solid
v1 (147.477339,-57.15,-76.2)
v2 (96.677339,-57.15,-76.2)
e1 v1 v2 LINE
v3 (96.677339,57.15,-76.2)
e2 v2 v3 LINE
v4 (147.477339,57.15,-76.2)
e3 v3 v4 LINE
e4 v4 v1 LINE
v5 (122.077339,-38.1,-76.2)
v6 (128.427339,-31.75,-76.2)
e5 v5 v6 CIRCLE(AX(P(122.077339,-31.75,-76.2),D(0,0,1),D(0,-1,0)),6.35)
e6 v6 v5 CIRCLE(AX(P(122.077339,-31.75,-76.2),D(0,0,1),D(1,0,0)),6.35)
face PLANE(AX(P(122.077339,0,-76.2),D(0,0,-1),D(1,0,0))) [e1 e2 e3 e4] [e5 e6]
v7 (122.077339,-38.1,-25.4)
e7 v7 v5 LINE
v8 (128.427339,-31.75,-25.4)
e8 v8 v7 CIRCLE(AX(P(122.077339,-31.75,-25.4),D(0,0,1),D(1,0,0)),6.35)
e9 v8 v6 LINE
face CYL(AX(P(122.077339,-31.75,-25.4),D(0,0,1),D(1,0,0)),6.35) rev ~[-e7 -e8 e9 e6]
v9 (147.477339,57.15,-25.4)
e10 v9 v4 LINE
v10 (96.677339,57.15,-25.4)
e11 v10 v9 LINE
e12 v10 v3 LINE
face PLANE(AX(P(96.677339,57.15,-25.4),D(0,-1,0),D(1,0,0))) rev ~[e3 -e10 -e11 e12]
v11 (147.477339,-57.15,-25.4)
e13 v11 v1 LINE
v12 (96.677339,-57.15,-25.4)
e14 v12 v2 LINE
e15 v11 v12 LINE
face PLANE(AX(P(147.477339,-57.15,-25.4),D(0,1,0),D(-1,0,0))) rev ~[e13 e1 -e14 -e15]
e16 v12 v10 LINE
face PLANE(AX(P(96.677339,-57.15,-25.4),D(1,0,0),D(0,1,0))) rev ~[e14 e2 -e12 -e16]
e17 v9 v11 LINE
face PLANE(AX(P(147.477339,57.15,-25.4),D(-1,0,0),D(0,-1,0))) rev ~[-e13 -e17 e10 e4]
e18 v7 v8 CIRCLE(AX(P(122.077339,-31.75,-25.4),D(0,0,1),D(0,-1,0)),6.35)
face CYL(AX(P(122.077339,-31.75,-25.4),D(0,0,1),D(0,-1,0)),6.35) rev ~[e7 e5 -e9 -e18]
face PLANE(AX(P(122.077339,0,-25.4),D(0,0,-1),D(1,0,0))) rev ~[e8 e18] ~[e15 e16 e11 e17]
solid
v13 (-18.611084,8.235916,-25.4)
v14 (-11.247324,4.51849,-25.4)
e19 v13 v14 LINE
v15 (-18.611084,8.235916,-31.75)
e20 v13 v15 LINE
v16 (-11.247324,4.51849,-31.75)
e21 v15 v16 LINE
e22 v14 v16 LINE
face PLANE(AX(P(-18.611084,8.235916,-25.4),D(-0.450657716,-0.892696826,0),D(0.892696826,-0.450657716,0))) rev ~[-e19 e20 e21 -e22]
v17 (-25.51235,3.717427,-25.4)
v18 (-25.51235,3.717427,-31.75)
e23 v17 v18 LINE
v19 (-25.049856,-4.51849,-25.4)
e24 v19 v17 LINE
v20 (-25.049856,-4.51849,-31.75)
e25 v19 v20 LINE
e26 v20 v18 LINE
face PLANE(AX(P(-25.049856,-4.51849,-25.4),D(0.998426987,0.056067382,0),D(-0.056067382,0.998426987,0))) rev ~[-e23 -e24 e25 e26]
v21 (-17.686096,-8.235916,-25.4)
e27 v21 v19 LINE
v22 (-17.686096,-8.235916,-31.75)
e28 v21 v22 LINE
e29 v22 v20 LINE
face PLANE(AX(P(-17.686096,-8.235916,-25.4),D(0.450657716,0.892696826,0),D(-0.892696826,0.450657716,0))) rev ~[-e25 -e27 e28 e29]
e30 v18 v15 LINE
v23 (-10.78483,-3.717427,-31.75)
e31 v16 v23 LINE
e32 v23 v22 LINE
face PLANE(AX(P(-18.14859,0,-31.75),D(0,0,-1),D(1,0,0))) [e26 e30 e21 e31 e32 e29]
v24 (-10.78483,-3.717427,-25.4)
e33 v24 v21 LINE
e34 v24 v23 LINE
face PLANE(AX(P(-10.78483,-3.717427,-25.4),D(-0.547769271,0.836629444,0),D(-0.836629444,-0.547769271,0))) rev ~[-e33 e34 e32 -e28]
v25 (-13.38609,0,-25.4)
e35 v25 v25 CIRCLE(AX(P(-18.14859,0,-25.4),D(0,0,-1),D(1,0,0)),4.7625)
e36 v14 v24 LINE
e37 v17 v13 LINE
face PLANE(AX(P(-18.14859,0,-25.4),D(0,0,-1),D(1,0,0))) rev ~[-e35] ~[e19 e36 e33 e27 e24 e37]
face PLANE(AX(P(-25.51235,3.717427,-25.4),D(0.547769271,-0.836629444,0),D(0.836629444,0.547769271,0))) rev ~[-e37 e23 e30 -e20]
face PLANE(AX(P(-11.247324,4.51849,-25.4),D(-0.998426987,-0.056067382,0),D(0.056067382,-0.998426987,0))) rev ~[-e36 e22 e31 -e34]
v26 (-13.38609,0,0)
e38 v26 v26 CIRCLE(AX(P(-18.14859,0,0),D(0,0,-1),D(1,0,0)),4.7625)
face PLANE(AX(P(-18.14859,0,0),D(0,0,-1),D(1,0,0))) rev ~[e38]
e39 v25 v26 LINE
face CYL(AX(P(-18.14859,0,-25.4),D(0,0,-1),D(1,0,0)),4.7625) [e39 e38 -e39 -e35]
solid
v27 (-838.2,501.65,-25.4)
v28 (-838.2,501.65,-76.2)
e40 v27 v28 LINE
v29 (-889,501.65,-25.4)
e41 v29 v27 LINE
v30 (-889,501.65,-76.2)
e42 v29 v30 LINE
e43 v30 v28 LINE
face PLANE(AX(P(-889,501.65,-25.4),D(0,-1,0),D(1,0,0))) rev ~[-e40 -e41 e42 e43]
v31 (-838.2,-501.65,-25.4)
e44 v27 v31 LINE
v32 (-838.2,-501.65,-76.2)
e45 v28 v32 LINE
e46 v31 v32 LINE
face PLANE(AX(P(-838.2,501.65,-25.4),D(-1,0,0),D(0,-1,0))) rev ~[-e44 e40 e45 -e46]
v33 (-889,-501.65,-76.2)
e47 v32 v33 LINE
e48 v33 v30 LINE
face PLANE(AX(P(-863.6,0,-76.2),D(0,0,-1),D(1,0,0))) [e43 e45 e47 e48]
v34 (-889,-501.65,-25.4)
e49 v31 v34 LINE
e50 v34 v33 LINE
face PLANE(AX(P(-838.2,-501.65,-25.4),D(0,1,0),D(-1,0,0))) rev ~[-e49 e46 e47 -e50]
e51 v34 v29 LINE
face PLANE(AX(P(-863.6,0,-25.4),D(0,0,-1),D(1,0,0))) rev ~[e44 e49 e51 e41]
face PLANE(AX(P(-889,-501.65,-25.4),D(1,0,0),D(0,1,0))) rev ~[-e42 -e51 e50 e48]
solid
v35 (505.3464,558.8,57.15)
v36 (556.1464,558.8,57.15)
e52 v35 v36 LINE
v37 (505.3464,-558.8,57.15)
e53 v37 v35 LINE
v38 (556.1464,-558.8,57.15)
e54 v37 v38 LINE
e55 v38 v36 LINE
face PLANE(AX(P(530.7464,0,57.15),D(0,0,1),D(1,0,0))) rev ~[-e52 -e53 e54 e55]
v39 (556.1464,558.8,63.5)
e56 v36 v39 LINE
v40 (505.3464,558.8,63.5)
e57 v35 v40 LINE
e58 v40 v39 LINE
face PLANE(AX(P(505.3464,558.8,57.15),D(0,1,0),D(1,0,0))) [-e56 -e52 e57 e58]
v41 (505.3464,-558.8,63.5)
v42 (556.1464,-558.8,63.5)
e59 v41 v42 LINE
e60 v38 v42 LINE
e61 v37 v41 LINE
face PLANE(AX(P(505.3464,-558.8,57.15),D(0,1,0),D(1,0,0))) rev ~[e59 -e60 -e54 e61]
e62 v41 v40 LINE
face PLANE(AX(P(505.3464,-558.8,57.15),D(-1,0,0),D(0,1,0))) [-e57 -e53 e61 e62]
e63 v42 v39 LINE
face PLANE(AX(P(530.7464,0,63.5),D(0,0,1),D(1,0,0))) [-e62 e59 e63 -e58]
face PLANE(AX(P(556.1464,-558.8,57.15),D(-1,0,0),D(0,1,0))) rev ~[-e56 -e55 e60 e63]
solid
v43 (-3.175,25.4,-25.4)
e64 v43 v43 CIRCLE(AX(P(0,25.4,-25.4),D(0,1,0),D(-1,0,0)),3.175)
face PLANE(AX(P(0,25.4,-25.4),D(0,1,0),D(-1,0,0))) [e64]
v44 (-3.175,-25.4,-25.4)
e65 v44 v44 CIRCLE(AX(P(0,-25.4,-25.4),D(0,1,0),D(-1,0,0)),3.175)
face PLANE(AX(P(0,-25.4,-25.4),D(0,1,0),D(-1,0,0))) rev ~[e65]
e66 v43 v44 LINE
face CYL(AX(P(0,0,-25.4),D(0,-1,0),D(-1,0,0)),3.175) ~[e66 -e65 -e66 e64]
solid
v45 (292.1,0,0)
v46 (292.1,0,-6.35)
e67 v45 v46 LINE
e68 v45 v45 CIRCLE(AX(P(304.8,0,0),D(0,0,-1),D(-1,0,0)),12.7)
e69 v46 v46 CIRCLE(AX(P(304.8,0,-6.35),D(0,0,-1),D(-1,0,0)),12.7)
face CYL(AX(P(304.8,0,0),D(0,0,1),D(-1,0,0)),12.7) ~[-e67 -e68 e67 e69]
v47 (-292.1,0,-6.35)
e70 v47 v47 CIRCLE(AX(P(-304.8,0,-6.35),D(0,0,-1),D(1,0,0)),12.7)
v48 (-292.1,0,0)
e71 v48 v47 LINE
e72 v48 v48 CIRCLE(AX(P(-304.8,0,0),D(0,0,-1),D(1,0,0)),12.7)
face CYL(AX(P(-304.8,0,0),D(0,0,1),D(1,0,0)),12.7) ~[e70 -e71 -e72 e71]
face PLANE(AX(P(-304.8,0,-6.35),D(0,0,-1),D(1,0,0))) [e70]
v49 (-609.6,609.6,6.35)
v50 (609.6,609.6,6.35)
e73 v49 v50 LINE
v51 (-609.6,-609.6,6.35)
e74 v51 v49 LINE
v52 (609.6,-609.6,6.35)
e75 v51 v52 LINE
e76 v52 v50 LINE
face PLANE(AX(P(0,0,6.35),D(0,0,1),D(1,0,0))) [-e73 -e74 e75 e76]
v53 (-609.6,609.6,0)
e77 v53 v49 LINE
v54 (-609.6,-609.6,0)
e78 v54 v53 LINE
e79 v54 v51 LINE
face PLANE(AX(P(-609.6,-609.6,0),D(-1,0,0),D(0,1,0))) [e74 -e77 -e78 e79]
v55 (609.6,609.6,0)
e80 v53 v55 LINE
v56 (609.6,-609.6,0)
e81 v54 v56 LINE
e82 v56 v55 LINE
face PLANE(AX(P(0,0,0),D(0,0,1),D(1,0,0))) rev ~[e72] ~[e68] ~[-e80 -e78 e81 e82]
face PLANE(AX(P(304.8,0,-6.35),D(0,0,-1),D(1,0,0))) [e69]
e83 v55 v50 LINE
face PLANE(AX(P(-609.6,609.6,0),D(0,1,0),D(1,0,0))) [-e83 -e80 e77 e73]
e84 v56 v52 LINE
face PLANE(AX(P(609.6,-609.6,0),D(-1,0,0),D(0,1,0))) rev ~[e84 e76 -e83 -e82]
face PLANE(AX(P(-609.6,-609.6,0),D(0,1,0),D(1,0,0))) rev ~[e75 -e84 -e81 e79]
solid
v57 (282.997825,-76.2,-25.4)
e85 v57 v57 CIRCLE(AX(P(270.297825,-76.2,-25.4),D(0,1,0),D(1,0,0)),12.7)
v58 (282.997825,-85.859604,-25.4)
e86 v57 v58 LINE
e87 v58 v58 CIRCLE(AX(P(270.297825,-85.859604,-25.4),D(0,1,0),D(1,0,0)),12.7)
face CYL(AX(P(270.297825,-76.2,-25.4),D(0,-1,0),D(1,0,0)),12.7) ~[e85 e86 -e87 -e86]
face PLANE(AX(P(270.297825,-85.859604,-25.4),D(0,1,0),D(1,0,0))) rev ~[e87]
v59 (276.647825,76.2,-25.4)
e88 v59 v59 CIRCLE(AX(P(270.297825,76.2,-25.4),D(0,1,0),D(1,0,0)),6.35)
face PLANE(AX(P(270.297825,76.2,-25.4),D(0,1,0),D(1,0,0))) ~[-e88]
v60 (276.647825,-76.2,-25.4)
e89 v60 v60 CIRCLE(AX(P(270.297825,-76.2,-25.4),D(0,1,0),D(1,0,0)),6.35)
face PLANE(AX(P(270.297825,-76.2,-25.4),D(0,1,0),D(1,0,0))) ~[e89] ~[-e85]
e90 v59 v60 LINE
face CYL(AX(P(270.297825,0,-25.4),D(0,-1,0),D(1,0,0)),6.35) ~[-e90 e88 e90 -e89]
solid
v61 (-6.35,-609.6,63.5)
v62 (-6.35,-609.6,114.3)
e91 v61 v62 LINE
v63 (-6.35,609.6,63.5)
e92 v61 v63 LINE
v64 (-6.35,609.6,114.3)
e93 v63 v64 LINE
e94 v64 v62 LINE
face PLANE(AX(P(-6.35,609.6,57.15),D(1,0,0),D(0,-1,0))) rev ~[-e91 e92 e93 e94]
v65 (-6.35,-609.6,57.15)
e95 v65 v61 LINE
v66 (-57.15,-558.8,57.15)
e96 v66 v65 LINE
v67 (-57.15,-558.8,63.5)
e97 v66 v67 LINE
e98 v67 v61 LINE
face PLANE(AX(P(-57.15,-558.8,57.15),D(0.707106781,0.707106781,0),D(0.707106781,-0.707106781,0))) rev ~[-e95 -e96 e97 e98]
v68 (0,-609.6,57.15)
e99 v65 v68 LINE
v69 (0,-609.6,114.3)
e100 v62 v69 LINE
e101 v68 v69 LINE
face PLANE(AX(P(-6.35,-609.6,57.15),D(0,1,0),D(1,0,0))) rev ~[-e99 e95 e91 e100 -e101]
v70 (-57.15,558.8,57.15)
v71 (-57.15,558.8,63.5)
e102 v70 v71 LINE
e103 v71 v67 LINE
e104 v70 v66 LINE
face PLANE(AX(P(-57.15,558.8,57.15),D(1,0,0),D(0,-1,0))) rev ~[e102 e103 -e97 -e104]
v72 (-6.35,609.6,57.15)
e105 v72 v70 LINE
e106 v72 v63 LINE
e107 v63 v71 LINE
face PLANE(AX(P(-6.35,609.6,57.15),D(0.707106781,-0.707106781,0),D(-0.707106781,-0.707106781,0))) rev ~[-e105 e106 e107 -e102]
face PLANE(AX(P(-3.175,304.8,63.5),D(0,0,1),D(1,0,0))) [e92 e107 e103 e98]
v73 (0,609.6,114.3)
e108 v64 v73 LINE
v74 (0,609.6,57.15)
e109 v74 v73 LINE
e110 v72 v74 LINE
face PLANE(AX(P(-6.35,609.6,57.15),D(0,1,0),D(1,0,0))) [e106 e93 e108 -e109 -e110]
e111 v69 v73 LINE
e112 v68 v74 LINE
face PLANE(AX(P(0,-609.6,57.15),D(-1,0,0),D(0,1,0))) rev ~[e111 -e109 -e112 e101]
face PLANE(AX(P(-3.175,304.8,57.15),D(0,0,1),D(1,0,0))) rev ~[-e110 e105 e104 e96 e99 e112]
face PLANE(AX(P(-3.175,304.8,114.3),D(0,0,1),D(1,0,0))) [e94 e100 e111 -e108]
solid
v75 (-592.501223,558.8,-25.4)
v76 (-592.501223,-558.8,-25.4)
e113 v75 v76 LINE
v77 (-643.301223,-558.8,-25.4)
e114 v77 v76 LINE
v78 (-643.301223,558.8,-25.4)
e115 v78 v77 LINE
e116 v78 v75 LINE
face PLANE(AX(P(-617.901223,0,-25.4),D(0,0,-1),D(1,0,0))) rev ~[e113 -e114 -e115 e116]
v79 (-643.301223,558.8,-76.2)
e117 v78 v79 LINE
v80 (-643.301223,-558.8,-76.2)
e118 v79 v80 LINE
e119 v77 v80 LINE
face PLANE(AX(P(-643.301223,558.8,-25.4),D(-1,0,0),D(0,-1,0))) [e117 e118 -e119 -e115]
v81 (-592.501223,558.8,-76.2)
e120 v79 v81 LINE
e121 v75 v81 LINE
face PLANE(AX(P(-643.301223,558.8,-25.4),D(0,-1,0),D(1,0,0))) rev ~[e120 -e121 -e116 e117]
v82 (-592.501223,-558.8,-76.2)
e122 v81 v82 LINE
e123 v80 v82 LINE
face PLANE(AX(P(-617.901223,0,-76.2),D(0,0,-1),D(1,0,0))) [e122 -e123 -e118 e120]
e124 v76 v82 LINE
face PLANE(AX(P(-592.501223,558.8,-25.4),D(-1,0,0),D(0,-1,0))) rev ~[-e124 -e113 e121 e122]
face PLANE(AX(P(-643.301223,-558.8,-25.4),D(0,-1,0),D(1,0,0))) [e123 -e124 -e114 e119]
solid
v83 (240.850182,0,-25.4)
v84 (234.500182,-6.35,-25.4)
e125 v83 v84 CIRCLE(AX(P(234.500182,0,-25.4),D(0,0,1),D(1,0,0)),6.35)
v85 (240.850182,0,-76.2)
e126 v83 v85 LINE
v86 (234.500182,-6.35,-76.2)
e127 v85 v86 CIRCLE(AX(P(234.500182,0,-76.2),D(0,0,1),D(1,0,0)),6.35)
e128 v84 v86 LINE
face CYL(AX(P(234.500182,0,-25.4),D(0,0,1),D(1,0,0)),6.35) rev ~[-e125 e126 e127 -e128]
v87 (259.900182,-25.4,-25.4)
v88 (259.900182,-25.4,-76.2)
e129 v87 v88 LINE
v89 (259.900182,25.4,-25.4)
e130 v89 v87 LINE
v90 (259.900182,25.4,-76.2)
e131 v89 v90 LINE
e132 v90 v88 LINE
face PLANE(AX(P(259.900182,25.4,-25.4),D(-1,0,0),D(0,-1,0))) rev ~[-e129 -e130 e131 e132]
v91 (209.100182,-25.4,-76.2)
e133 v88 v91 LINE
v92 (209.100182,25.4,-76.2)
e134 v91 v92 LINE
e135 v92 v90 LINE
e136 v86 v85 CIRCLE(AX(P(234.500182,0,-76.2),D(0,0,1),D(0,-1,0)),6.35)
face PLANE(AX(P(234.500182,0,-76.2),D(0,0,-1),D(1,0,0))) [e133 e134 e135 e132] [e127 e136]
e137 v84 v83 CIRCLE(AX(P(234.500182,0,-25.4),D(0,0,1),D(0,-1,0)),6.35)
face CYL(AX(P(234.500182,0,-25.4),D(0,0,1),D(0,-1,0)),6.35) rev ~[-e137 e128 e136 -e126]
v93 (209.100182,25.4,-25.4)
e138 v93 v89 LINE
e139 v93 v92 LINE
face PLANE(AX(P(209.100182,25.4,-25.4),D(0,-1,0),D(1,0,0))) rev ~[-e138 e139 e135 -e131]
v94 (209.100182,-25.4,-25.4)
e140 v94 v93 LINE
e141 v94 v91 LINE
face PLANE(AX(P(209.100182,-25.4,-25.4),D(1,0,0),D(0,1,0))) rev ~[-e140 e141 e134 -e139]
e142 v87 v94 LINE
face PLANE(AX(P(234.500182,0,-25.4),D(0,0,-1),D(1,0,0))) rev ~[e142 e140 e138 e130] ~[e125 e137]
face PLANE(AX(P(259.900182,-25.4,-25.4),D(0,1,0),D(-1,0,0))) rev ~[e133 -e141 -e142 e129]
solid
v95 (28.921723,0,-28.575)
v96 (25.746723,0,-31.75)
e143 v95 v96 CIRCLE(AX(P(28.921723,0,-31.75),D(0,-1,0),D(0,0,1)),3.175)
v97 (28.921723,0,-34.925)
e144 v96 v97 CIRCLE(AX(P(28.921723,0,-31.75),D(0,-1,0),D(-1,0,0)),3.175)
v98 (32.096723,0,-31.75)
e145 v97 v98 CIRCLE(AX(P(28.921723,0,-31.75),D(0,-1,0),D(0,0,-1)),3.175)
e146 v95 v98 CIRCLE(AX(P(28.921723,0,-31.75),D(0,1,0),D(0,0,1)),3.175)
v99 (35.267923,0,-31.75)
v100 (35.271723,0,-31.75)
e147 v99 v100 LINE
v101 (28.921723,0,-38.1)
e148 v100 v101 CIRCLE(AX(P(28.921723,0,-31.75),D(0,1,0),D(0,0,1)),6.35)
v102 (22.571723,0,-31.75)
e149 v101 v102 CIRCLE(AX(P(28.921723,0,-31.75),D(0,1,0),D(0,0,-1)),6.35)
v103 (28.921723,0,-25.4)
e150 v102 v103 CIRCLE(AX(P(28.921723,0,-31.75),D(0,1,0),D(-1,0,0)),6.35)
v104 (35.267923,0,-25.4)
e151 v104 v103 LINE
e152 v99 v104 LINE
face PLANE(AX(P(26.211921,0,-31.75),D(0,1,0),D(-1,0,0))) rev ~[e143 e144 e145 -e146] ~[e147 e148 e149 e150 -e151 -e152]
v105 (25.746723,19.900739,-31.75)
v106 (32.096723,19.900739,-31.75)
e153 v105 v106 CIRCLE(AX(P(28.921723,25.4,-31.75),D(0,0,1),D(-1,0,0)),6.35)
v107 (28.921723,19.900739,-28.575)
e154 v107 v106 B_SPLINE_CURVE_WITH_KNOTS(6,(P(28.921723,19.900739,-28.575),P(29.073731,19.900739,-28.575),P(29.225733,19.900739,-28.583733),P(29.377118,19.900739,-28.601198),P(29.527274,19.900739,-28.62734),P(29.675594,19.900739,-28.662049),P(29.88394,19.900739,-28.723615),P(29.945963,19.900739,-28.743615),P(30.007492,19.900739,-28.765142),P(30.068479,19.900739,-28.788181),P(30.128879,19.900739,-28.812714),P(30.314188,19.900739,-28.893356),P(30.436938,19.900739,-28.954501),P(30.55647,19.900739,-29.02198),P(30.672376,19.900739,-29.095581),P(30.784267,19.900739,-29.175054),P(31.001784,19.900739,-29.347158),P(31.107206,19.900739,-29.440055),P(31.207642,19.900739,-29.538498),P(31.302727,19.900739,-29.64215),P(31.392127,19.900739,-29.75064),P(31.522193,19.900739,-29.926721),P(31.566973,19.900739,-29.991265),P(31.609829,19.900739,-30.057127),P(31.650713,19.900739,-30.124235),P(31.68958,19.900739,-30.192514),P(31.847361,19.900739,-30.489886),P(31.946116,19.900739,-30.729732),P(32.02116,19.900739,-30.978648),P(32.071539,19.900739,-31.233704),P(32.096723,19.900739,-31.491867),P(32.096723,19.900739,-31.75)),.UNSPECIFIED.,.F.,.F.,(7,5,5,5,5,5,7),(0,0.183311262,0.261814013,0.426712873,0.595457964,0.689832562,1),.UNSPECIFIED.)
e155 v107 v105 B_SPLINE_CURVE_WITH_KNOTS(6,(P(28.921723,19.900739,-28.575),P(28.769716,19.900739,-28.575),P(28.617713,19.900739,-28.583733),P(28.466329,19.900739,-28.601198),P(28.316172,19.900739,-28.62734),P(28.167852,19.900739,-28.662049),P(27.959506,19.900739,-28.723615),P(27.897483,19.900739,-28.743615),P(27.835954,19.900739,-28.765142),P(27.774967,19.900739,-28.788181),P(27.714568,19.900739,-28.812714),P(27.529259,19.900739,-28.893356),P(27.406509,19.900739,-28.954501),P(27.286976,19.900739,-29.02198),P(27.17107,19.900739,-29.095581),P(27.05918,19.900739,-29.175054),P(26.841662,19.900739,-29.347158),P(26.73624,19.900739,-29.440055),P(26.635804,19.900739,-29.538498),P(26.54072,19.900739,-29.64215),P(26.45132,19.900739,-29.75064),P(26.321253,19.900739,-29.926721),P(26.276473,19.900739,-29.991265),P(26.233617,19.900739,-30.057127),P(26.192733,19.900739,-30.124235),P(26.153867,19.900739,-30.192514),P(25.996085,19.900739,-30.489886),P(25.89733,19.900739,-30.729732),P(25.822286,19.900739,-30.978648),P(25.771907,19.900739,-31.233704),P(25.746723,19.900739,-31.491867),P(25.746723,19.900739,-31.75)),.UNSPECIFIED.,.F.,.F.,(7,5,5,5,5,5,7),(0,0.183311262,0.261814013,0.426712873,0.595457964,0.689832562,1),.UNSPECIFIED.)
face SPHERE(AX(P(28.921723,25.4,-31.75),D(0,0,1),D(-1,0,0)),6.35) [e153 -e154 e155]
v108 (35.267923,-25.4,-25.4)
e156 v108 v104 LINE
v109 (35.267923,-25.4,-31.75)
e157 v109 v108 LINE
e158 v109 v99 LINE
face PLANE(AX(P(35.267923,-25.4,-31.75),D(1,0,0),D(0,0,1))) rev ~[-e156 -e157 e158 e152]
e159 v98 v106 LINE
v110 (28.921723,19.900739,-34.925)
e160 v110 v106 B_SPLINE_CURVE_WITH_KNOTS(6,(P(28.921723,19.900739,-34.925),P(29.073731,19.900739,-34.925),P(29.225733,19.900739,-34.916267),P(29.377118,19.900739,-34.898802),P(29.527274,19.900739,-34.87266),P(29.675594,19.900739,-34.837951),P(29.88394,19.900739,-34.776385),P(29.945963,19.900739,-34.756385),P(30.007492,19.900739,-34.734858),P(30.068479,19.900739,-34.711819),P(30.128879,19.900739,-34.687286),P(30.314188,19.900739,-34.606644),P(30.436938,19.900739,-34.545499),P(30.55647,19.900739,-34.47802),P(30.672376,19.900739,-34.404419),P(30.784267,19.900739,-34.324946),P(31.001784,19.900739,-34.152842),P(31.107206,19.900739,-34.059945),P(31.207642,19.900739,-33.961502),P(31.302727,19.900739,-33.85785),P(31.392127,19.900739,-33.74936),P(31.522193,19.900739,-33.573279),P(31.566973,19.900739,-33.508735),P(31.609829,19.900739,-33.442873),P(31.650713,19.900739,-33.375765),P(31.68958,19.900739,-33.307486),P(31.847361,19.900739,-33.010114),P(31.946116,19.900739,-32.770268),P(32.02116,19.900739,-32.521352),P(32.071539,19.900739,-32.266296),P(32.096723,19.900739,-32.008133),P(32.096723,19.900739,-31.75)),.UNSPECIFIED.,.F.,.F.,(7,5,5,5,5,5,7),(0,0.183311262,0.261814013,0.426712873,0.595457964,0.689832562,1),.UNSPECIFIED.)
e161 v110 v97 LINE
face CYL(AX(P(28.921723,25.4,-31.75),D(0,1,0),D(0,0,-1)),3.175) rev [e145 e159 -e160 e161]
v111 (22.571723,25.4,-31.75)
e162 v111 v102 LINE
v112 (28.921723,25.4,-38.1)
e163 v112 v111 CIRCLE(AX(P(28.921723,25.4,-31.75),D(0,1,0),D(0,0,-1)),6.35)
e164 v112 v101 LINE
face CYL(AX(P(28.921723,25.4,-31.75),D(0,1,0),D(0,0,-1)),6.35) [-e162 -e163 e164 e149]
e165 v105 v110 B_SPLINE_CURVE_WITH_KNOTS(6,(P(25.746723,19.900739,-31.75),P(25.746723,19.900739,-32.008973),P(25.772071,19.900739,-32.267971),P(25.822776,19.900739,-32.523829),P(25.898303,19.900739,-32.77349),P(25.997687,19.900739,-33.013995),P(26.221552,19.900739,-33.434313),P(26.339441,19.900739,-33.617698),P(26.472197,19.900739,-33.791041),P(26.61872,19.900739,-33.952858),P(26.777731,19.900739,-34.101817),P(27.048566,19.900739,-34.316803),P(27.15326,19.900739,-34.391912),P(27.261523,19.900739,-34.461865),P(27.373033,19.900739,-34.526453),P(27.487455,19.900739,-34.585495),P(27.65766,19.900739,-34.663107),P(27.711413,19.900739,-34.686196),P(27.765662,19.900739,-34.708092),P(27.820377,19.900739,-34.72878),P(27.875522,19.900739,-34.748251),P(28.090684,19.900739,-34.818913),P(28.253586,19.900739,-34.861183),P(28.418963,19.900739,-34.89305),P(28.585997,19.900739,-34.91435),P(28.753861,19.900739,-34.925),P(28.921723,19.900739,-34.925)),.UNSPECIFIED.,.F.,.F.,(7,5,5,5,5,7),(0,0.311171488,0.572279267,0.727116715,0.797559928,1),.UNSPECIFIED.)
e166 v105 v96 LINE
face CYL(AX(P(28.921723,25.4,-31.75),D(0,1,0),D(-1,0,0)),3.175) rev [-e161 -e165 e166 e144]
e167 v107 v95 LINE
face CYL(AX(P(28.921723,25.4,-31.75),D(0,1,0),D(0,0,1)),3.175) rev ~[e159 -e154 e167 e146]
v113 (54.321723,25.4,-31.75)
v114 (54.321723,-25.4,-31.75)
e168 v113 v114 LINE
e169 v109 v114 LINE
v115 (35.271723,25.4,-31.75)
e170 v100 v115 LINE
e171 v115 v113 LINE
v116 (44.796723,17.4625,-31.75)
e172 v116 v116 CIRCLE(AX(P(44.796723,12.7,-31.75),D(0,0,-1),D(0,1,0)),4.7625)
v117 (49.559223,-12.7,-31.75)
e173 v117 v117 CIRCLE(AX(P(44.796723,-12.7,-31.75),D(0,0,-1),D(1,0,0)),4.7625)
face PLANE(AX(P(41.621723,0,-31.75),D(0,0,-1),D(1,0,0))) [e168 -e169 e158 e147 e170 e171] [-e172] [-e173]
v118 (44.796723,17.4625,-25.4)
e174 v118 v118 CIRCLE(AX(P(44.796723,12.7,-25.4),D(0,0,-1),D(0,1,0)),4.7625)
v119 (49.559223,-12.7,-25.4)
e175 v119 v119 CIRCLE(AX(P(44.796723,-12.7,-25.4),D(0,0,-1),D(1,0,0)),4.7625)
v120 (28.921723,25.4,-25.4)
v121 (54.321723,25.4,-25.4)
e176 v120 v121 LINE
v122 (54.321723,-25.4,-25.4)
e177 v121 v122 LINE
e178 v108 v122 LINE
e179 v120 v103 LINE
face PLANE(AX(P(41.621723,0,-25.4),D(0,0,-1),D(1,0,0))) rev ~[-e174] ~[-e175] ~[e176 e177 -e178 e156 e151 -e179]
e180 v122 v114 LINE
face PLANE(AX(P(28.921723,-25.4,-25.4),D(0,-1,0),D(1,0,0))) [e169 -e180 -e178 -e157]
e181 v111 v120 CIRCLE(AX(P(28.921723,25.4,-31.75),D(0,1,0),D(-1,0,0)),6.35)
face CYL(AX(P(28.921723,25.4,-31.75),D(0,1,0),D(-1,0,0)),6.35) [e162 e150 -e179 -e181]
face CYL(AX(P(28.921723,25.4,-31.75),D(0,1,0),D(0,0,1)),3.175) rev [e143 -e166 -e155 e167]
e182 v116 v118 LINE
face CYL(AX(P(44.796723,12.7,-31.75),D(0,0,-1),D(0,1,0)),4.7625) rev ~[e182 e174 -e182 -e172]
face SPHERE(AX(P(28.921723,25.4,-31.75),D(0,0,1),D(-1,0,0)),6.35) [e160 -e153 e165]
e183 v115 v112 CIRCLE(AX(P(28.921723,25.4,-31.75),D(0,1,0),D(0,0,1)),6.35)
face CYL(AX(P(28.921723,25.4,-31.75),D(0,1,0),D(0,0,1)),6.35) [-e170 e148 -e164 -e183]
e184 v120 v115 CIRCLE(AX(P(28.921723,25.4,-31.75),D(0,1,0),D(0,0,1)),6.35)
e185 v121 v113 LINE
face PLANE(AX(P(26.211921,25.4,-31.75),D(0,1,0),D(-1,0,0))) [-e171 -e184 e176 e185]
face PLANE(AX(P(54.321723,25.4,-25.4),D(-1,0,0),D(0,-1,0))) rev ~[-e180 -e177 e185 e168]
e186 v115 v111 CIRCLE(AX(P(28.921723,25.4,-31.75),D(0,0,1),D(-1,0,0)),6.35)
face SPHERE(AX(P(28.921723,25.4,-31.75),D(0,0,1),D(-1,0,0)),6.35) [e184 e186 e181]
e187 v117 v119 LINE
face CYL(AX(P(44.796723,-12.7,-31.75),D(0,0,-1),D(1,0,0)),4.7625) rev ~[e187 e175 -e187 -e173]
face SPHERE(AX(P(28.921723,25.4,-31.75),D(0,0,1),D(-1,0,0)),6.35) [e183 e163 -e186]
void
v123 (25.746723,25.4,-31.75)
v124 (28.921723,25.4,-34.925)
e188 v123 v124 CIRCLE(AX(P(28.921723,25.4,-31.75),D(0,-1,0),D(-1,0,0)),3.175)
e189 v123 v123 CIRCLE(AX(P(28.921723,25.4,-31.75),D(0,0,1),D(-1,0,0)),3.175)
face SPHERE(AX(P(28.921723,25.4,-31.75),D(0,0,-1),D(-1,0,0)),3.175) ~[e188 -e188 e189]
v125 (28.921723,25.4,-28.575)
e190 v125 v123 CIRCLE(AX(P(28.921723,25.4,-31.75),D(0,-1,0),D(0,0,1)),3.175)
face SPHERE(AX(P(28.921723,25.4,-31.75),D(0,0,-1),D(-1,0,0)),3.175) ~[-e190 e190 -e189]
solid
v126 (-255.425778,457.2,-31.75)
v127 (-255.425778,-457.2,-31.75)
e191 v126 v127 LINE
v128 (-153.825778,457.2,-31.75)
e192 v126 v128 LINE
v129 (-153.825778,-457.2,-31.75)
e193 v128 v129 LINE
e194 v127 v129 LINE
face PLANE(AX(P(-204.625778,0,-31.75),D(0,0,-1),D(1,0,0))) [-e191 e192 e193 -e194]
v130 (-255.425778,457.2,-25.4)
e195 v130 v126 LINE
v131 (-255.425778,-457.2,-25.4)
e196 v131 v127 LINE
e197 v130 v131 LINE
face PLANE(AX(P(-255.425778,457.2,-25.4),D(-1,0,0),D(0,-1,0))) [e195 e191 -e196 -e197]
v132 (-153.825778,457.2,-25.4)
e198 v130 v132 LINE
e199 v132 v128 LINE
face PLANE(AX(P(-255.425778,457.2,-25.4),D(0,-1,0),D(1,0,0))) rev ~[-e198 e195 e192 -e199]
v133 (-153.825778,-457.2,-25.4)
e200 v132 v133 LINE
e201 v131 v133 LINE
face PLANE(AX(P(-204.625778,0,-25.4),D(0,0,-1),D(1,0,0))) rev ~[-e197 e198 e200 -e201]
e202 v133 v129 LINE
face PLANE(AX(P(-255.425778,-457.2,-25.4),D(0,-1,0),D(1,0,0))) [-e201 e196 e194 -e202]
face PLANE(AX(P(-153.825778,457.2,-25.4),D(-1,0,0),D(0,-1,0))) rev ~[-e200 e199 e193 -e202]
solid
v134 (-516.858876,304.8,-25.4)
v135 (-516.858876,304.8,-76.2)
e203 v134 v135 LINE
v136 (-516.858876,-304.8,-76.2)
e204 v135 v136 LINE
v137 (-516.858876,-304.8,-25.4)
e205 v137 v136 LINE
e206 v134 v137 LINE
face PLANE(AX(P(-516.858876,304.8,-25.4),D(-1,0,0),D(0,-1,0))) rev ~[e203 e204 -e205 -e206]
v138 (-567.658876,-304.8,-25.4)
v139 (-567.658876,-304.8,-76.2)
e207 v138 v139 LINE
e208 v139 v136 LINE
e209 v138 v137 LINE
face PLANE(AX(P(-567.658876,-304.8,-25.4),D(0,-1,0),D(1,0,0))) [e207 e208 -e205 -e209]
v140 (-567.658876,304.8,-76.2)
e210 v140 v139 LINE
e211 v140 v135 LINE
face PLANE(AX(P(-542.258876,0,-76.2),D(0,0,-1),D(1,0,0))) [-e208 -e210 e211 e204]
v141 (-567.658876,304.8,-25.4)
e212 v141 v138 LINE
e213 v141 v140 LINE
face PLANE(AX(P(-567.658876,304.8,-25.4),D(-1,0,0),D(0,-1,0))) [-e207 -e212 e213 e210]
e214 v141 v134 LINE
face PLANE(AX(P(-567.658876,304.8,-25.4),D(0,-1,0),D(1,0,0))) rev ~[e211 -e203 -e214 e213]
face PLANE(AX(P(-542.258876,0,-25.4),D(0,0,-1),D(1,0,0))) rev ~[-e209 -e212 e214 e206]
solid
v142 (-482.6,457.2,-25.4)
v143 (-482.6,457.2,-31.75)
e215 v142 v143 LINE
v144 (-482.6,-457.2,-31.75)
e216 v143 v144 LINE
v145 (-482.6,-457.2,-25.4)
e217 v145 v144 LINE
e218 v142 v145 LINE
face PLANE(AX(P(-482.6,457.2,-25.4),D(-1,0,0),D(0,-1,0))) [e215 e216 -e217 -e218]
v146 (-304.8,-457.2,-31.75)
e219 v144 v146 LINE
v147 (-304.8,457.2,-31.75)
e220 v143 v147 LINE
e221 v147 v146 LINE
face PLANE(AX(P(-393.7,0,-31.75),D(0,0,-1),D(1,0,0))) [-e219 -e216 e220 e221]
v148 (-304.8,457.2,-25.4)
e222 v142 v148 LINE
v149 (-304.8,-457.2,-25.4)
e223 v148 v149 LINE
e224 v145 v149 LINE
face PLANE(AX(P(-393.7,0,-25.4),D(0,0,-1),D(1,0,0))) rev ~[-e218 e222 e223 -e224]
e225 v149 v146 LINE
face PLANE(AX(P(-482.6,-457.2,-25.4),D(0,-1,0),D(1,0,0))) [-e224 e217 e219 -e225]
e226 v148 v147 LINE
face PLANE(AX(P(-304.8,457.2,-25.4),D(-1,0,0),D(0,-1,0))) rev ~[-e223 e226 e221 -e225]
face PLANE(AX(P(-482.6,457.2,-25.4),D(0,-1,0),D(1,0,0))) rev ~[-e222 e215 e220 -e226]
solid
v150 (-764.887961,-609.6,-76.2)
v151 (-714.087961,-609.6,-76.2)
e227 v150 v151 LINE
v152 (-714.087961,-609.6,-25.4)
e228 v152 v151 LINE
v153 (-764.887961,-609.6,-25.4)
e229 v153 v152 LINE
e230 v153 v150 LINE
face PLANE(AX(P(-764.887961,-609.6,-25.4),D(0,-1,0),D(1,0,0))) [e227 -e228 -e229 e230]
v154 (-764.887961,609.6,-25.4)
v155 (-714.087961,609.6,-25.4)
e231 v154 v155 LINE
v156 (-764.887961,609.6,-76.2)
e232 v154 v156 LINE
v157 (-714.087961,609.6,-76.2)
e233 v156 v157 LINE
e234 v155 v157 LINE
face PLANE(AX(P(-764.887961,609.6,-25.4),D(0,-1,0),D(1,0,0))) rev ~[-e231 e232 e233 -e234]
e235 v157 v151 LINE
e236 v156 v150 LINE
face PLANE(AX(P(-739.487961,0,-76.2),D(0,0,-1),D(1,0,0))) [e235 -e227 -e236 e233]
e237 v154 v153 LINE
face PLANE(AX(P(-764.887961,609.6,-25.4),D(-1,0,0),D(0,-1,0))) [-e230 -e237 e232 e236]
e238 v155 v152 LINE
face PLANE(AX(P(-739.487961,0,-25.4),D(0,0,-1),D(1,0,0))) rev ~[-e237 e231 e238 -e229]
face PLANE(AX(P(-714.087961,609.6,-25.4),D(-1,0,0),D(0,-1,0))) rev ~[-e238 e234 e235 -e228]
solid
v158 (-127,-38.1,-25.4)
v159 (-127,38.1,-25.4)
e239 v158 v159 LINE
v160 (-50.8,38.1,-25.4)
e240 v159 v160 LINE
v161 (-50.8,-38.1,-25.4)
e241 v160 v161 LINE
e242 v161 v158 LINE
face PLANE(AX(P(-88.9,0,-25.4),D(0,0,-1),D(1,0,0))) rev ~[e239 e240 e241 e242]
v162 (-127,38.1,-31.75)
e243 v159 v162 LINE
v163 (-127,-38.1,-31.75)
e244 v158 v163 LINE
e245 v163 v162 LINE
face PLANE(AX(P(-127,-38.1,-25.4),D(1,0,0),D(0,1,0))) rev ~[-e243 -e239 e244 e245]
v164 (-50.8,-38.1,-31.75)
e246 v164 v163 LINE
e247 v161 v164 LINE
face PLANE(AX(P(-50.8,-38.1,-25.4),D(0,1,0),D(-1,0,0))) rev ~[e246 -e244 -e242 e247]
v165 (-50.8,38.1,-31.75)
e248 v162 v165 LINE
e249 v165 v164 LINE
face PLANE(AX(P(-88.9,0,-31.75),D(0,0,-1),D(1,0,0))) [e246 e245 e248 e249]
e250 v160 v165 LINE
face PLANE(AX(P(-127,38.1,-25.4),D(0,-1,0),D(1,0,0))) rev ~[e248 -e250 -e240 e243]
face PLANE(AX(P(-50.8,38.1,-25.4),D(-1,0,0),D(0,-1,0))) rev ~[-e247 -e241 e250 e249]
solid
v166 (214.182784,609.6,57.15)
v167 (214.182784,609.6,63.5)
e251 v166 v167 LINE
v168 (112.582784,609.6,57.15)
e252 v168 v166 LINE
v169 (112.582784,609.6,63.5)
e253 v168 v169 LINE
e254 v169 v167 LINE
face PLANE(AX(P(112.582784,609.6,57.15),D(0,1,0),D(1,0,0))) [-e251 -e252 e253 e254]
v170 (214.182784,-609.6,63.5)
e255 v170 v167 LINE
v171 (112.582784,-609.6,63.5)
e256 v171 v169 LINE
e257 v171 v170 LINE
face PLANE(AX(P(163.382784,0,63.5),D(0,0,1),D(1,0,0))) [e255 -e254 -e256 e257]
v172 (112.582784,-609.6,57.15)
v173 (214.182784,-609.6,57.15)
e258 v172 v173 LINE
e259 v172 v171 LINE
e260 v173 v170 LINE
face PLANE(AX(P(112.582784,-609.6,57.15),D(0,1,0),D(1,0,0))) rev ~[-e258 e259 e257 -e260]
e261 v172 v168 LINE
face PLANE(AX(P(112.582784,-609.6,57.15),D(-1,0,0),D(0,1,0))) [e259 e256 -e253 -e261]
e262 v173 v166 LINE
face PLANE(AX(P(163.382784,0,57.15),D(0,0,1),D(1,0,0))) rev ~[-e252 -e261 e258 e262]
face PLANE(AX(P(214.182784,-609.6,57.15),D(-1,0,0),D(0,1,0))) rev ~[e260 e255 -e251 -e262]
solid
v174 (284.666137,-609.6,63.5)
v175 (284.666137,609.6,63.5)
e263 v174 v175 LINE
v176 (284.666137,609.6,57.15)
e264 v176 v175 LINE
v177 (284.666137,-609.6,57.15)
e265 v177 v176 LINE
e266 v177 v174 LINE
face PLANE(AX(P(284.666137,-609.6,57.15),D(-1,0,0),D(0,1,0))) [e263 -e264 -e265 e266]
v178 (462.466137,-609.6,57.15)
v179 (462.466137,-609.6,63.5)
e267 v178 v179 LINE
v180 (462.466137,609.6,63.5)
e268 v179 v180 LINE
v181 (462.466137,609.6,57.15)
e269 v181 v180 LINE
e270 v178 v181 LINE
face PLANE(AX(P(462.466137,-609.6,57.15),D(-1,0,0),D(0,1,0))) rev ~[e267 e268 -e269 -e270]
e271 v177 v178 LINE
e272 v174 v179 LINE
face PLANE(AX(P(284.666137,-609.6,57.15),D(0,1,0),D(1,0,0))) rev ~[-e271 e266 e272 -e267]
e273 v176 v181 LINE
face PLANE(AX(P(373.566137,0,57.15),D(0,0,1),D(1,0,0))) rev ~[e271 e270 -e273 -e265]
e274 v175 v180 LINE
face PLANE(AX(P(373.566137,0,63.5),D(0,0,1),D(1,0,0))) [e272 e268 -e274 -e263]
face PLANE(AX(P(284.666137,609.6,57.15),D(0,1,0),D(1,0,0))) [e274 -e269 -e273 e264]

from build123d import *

# Parameters (mm, degrees)
F0_W      = 1219.2
F0_H      = 1219.2
F1_DEPTH  = 6.35
F3_W      = 177.8
F3_H      = 914.4
F4_DEPTH  = 6.35
F5_W      = 101.6
F5_H      = 914.4
F6_DEPTH  = 6.35
F7_R      = 12.7
F8_DEPTH  = 6.35
F9_W      = 50.8
F9_H      = 609.6
F10_DEPTH = 50.8
F11_W     = 50.8
F11_H     = 1219.2
F12_DEPTH = 50.8
F13_W     = 50.8
F13_H     = 1117.6
F14_DEPTH = 50.8
F15_W     = 25.4
F15_H     = 50.8
F16_DEPTH = 6.35
F18_DEPTH = 25.4
F19_DEPTH = 50.8
F22_DEPTH = 25.4
F23_R     = 4.7625
F24_DEPTH = 25.4
F25_W     = 3.175
F25_H     = 50.8
F25_R     = 4.7625
F27_DEPTH = 25.4
F28_DEPTH = 6.35
F30_DEPTH = 50.8
F32_DEPTH = 6.35
F34_DEPTH = 50.8
F36_DEPTH = 50.8
F35_W     = 6.35
F35_H     = 152.4
F39_W     = 6.35
F39_H     = 609.6
F40_DEPTH = 6.35
F41_DEPTH = 57.15
F42_W     = 177.8
F42_H     = 1219.2
F43_DEPTH = 6.35
F42_W_2   = 101.6
F42_W_3   = 50.8
F42_H_2   = 1117.6


with BuildPart() as f1:
    # F0 (on Top) → F1 (new body)
    with BuildSketch(Plane.XY):
        Rectangle(F0_W, F0_H)
    extrude(amount=F1_DEPTH)

    # F7 (on face) → F8 (join)
    with BuildSketch(Plane(origin=(0, 0, 0), x_dir=(1, 0, 0), z_dir=(0, 0, -1))):
        with BuildLine():
            ThreePointArc((317.5, 0), (304.8, 12.7), (292.1, 0))
            ThreePointArc((292.1, 0), (304.8, -12.7), (317.5, 0))
        make_face()
        with Locations((-304.8, 0)):
            Circle(F7_R)
    extrude(amount=F8_DEPTH)


with BuildPart() as f4:
    # F3 (on offset) → F4 (new body)
    with BuildSketch(Plane(origin=(0, 0, -25.4), x_dir=(1, 0, 0), z_dir=(0, 0, -1))):
        with Locations((-393.7, 0)):
            Rectangle(F3_W, F3_H)
    extrude(amount=F4_DEPTH)


with BuildPart() as f6:
    # F5 (on offset) → F6 (new body)
    with BuildSketch(Plane(origin=(0, 0, -25.4), x_dir=(1, 0, 0), z_dir=(0, 0, -1))):
        with Locations((-204.6257775556, 0)):
            Rectangle(F5_W, F5_H)
    extrude(amount=F6_DEPTH)


with BuildPart() as f10:
    # F9 (on offset) → F10 (new body)
    with BuildSketch(Plane(origin=(0, 0, -25.4), x_dir=(1, 0, 0), z_dir=(0, 0, -1))):
        with Locations((-542.2588756007, 0)):
            Rectangle(F9_W, F9_H)
    extrude(amount=F10_DEPTH)


with BuildPart() as f12:
    # F11 (on offset) → F12 (new body)
    with BuildSketch(Plane(origin=(0, 0, -25.4), x_dir=(1, 0, 0), z_dir=(0, 0, -1))):
        with Locations((-739.4879607756, 0)):
            Rectangle(F11_W, F11_H)
    extrude(amount=F12_DEPTH)


with BuildPart() as f14:
    # F13 (on offset) → F14 (new body)
    with BuildSketch(Plane(origin=(0, 0, -25.4), x_dir=(1, 0, 0), z_dir=(0, 0, -1))):
        with Locations((-617.9012233273, 0)):
            Rectangle(F13_W, F13_H)
    extrude(amount=F14_DEPTH)


with BuildPart() as f16:
    # F15 (on offset) → F16 (new body)
    with BuildSketch(Plane(origin=(0, 0, -25.4), x_dir=(1, 0, 0), z_dir=(0, 0, -1))):
        with Locations((41.6217231725, 0)):
            Rectangle(F15_W, F15_H)
    extrude(amount=F16_DEPTH)

    # F17 (on face) → F18 (join)
    with BuildSketch(Plane(origin=(0, 25.4, 0), x_dir=(-1, 0, 0), z_dir=(0, 1, 0))):
        with BuildLine():
            ThreePointArc((-28.9217231725, -38.1), (-24.4315951119, -36.2401280605), (-22.5717231725, -31.75))
            ThreePointArc((-22.5717231725, -31.75), (-24.4315951119, -27.2598719395), (-28.9217231725, -25.4))
            Line((-28.9217231725, -25.4), (-28.9217231725, -28.575))
            ThreePointArc((-28.9217231725, -28.575), (-26.6766591422, -29.5049359697), (-25.7467231725, -31.75))
            ThreePointArc((-25.7467231725, -31.75), (-26.6766591422, -33.9950640303), (-28.9217231725, -34.925))
            Line((-28.9217231725, -34.925), (-28.9217231725, -38.1))
        make_face()
        with BuildLine():
            Line((-28.9217231725, -28.575), (-28.9217231725, -25.4))
            ThreePointArc((-28.9217231725, -25.4), (-35.2717231725, -31.75), (-28.9217231725, -38.1))
            Line((-28.9217231725, -38.1), (-28.9217231725, -34.925))
            ThreePointArc((-28.9217231725, -34.925), (-32.0967231725, -31.75), (-28.9217231725, -28.575))
        make_face()
    extrude(amount=-F18_DEPTH)

    # F17 (on face) → F19 (cut)
    with BuildSketch(Plane(origin=(0, 25.4, 0), x_dir=(-1, 0, 0), z_dir=(0, 1, 0))):
        with BuildLine():
            ThreePointArc((-25.7467231725, -31.75), (-26.6766591422, -29.5049359697), (-28.9217231725, -28.575))
            Line((-28.9217231725, -28.575), (-28.9217231725, -31.75))
            Line((-28.9217231725, -31.75), (-28.9217231725, -34.925))
            ThreePointArc((-28.9217231725, -34.925), (-26.6766591422, -33.9950640303), (-25.7467231725, -31.75))
        make_face()
        with BuildLine():
            ThreePointArc((-32.0967231725, -31.75), (-31.1667872027, -33.9950640303), (-28.9217231725, -34.925))
            Line((-28.9217231725, -34.925), (-28.9217231725, -31.75))
            Line((-28.9217231725, -31.75), (-32.0967231725, -31.75))
        make_face()
        with BuildLine():
            Line((-28.9217231725, -31.75), (-28.9217231725, -28.575))
            ThreePointArc((-28.9217231725, -28.575), (-31.1667872027, -29.5049359697), (-32.0967231725, -31.75))
            Line((-32.0967231725, -31.75), (-28.9217231725, -31.75))
        make_face()
    extrude(amount=-F19_DEPTH, mode=Mode.SUBTRACT)

    # F17 (on face) → F20 (revolve)
    with BuildSketch(Plane(origin=(0, 25.4, 0), x_dir=(-1, 0, 0), z_dir=(0, 1, 0))):
        with BuildLine():
            ThreePointArc((-28.9217231725, -38.1), (-24.4315951119, -36.2401280605), (-22.5717231725, -31.75))
            ThreePointArc((-22.5717231725, -31.75), (-24.4315951119, -27.2598719395), (-28.9217231725, -25.4))
            Line((-28.9217231725, -25.4), (-28.9217231725, -28.575))
            ThreePointArc((-28.9217231725, -28.575), (-26.6766591422, -29.5049359697), (-25.7467231725, -31.75))
            ThreePointArc((-25.7467231725, -31.75), (-26.6766591422, -33.9950640303), (-28.9217231725, -34.925))
            Line((-28.9217231725, -34.925), (-28.9217231725, -38.1))
        make_face()
    revolve(axis=Axis((28.9217231725, 25.4, -31.75), (0, 0, 1)))

    # F21 (on face) → F22 (cut)
    with BuildSketch(Plane.XZ.offset(25.4)):
        Polygon((28.9217231725, -31.75), (31.9659225643, -31.75), (35.2679225643, -31.75), (35.2679225643, -25.4), (28.9217231725, -25.4), align=None)
    extrude(amount=-F22_DEPTH, mode=Mode.SUBTRACT)

    # F23 (on face) → F24 (cut)
    with BuildSketch(Plane(origin=(0, 0, -31.75), x_dir=(1, 0, 0), z_dir=(0, 0, -1))):
        with Locations((44.7967231725, 12.7)):
            Circle(F23_R)
        with BuildLine():
            ThreePointArc((49.5592231725, -12.7), (41.4291271271, -9.3324039546), (44.7967231725, -17.4625))
            ThreePointArc((44.7967231725, -17.4625), (48.1643192179, -16.0675960454), (49.5592231725, -12.7))
        make_face()
    extrude(amount=-F24_DEPTH, mode=Mode.SUBTRACT)


with BuildPart() as f26:
    # F25 (on offset) → F26 (revolve)
    with BuildSketch(Plane(origin=(0, 0, -25.4), x_dir=(1, 0, 0), z_dir=(0, 0, -1))):
        with Locations((-1.5875, 0)):
            Rectangle(F25_W, F25_H)
    revolve(axis=Axis((0, 0, -25.4), (0, 1, 0)))


with BuildPart() as f27:
    # F25 (on offset) → F27 (new body)
    with BuildSketch(Plane(origin=(0, 0, -25.4), x_dir=(1, 0, 0), z_dir=(0, 0, -1))):
        with Locations((-18.1485898793, 0)):
            Circle(F25_R)
    extrude(amount=-F27_DEPTH)

    # F25 (on offset) → F28 (join)
    with BuildSketch(Plane(origin=(0, 0, -25.4), x_dir=(1, 0, 0), z_dir=(0, 0, -1))):
        Polygon((-18.6110836574, -8.235916358), (-11.2473239789, -4.5184895399), (-10.7848302008, 3.7174268181), (-17.6860961012, 8.235916358), (-25.0498557797, 4.5184895399), (-25.5123495578, -3.7174268181), align=None)
        with Locations((-18.1485898793, 0)):
            Circle(F25_R, mode=Mode.SUBTRACT)
        with Locations((-18.1485898793, 0)):
            Circle(F25_R)
    extrude(amount=F28_DEPTH)


with BuildPart() as f30:
    # F29 (on offset) → F30 (new body)
    with BuildSketch(Plane(origin=(0, 0, -25.4), x_dir=(1, 0, 0), z_dir=(0, 0, -1))):
        Polygon((-889, 501.65), (-889, -501.65), (-838.2, -501.65), (-838.2, 0), (-838.2, 501.65), align=None)
    extrude(amount=F30_DEPTH)


with BuildPart() as f32:
    # F31 (on offset) → F32 (new body)
    with BuildSketch(Plane(origin=(0, 0, -25.4), x_dir=(1, 0, 0), z_dir=(0, 0, -1))):
        Polygon((-127, 38.1), (-127, -38.1), (-50.8, -38.1), (-50.8, 0), (-50.8, 38.1), align=None)
    extrude(amount=F32_DEPTH)


with BuildPart() as f34:
    # F33 (on offset) → F34 (new body)
    with BuildSketch(Plane(origin=(0, 0, -25.4), x_dir=(1, 0, 0), z_dir=(0, 0, -1))):
        Polygon((96.6773392951, -57.15), (147.4773392951, -57.15), (147.4773392951, 57.15), (122.0773392951, 57.15), (96.6773392951, 57.15), align=None)
        with BuildLine():
            ThreePointArc((128.4273392951, 31.75), (117.5872112345, 27.2598719395), (122.0773392951, 38.1))
            ThreePointArc((122.0773392951, 38.1), (126.5674673556, 36.2401280605), (128.4273392951, 31.75))
        make_face(mode=Mode.SUBTRACT)
    extrude(amount=F34_DEPTH)


with BuildPart() as f36:
    # F35 (on offset) → F36 (new body)
    with BuildSketch(Plane(origin=(0, 0, -25.4), x_dir=(1, 0, 0), z_dir=(0, 0, -1))):
        Polygon((209.1001823967, -25.4), (259.9001823967, -25.4), (259.9001823967, 25.4), (234.5001823967, 25.4), (209.1001823967, 25.4), align=None)
        with BuildLine():
            ThreePointArc((240.8501823967, 0), (230.0100543362, -4.4901280605), (234.5001823967, 6.35))
            ThreePointArc((234.5001823967, 6.35), (238.9903104573, 4.4901280605), (240.8501823967, 0))
        make_face(mode=Mode.SUBTRACT)
    extrude(amount=F36_DEPTH)


with BuildPart() as f37:
    # F35 (on offset) → F37 (revolve)
    with BuildSketch(Plane(origin=(0, 0, -25.4), x_dir=(1, 0, 0), z_dir=(0, 0, -1))):
        with Locations((273.4728253365, 0)):
            Rectangle(F35_W, F35_H)
        Polygon((270.2978253365, 76.2), (276.6478253365, 76.2), (282.9978253365, 76.2), (282.9978253365, 85.8596041799), (270.2978253365, 85.8596041799), align=None)
    revolve(axis=Axis((270.2978253365, 0, -25.4), (0, 1, 0)))


with BuildPart() as f40:
    # F39 (on offset) → F40 (new body)
    with BuildSketch(Plane.XY.offset(57.15)):
        with Locations((-3.175, 304.8)):
            Rectangle(F39_W, F39_H)
        with Locations((-3.175, -304.8)):
            Rectangle(F39_W, F39_H)
        Polygon((-6.35, -609.6), (-6.35, 0), (-57.15, 0), (-57.15, -558.8), align=None)
        Polygon((-57.15, 0), (-6.35, 0), (-6.35, 609.6), (-57.15, 558.8), align=None)
    extrude(amount=F40_DEPTH)

    # F39 (on offset) → F41 (join)
    with BuildSketch(Plane.XY.offset(57.15)):
        with Locations((-3.175, 304.8)):
            Rectangle(F39_W, F39_H)
        with Locations((-3.175, -304.8)):
            Rectangle(F39_W, F39_H)
    extrude(amount=F41_DEPTH)


with BuildPart() as f43:
    # F42 (on offset) → F43 (new body)
    with BuildSketch(Plane.XY.offset(57.15)):
        with Locations((373.566137178, 0)):
            Rectangle(F42_W, F42_H)
    extrude(amount=F43_DEPTH)


with BuildPart() as f43b:
    # F42 (on offset) → F43, piece 2 (new body)
    with BuildSketch(Plane.XY.offset(57.15)):
        with Locations((163.3827835321, 0)):
            Rectangle(F42_W_2, F42_H)
    extrude(amount=F43_DEPTH)


with BuildPart() as f43c:
    # F42 (on offset) → F43, piece 3 (new body)
    with BuildSketch(Plane.XY.offset(57.15)):
        with Locations((530.7464003563, 0)):
            Rectangle(F42_W_3, F42_H_2)
    extrude(amount=F43_DEPTH)


solid = Compound([f1.part, f4.part, f6.part, f10.part, f12.part, f14.part, f16.part, f26.part, f27.part, f30.part, f32.part, f34.part, f36.part, f37.part, f40.part, f43.part, f43b.part, f43c.part])
